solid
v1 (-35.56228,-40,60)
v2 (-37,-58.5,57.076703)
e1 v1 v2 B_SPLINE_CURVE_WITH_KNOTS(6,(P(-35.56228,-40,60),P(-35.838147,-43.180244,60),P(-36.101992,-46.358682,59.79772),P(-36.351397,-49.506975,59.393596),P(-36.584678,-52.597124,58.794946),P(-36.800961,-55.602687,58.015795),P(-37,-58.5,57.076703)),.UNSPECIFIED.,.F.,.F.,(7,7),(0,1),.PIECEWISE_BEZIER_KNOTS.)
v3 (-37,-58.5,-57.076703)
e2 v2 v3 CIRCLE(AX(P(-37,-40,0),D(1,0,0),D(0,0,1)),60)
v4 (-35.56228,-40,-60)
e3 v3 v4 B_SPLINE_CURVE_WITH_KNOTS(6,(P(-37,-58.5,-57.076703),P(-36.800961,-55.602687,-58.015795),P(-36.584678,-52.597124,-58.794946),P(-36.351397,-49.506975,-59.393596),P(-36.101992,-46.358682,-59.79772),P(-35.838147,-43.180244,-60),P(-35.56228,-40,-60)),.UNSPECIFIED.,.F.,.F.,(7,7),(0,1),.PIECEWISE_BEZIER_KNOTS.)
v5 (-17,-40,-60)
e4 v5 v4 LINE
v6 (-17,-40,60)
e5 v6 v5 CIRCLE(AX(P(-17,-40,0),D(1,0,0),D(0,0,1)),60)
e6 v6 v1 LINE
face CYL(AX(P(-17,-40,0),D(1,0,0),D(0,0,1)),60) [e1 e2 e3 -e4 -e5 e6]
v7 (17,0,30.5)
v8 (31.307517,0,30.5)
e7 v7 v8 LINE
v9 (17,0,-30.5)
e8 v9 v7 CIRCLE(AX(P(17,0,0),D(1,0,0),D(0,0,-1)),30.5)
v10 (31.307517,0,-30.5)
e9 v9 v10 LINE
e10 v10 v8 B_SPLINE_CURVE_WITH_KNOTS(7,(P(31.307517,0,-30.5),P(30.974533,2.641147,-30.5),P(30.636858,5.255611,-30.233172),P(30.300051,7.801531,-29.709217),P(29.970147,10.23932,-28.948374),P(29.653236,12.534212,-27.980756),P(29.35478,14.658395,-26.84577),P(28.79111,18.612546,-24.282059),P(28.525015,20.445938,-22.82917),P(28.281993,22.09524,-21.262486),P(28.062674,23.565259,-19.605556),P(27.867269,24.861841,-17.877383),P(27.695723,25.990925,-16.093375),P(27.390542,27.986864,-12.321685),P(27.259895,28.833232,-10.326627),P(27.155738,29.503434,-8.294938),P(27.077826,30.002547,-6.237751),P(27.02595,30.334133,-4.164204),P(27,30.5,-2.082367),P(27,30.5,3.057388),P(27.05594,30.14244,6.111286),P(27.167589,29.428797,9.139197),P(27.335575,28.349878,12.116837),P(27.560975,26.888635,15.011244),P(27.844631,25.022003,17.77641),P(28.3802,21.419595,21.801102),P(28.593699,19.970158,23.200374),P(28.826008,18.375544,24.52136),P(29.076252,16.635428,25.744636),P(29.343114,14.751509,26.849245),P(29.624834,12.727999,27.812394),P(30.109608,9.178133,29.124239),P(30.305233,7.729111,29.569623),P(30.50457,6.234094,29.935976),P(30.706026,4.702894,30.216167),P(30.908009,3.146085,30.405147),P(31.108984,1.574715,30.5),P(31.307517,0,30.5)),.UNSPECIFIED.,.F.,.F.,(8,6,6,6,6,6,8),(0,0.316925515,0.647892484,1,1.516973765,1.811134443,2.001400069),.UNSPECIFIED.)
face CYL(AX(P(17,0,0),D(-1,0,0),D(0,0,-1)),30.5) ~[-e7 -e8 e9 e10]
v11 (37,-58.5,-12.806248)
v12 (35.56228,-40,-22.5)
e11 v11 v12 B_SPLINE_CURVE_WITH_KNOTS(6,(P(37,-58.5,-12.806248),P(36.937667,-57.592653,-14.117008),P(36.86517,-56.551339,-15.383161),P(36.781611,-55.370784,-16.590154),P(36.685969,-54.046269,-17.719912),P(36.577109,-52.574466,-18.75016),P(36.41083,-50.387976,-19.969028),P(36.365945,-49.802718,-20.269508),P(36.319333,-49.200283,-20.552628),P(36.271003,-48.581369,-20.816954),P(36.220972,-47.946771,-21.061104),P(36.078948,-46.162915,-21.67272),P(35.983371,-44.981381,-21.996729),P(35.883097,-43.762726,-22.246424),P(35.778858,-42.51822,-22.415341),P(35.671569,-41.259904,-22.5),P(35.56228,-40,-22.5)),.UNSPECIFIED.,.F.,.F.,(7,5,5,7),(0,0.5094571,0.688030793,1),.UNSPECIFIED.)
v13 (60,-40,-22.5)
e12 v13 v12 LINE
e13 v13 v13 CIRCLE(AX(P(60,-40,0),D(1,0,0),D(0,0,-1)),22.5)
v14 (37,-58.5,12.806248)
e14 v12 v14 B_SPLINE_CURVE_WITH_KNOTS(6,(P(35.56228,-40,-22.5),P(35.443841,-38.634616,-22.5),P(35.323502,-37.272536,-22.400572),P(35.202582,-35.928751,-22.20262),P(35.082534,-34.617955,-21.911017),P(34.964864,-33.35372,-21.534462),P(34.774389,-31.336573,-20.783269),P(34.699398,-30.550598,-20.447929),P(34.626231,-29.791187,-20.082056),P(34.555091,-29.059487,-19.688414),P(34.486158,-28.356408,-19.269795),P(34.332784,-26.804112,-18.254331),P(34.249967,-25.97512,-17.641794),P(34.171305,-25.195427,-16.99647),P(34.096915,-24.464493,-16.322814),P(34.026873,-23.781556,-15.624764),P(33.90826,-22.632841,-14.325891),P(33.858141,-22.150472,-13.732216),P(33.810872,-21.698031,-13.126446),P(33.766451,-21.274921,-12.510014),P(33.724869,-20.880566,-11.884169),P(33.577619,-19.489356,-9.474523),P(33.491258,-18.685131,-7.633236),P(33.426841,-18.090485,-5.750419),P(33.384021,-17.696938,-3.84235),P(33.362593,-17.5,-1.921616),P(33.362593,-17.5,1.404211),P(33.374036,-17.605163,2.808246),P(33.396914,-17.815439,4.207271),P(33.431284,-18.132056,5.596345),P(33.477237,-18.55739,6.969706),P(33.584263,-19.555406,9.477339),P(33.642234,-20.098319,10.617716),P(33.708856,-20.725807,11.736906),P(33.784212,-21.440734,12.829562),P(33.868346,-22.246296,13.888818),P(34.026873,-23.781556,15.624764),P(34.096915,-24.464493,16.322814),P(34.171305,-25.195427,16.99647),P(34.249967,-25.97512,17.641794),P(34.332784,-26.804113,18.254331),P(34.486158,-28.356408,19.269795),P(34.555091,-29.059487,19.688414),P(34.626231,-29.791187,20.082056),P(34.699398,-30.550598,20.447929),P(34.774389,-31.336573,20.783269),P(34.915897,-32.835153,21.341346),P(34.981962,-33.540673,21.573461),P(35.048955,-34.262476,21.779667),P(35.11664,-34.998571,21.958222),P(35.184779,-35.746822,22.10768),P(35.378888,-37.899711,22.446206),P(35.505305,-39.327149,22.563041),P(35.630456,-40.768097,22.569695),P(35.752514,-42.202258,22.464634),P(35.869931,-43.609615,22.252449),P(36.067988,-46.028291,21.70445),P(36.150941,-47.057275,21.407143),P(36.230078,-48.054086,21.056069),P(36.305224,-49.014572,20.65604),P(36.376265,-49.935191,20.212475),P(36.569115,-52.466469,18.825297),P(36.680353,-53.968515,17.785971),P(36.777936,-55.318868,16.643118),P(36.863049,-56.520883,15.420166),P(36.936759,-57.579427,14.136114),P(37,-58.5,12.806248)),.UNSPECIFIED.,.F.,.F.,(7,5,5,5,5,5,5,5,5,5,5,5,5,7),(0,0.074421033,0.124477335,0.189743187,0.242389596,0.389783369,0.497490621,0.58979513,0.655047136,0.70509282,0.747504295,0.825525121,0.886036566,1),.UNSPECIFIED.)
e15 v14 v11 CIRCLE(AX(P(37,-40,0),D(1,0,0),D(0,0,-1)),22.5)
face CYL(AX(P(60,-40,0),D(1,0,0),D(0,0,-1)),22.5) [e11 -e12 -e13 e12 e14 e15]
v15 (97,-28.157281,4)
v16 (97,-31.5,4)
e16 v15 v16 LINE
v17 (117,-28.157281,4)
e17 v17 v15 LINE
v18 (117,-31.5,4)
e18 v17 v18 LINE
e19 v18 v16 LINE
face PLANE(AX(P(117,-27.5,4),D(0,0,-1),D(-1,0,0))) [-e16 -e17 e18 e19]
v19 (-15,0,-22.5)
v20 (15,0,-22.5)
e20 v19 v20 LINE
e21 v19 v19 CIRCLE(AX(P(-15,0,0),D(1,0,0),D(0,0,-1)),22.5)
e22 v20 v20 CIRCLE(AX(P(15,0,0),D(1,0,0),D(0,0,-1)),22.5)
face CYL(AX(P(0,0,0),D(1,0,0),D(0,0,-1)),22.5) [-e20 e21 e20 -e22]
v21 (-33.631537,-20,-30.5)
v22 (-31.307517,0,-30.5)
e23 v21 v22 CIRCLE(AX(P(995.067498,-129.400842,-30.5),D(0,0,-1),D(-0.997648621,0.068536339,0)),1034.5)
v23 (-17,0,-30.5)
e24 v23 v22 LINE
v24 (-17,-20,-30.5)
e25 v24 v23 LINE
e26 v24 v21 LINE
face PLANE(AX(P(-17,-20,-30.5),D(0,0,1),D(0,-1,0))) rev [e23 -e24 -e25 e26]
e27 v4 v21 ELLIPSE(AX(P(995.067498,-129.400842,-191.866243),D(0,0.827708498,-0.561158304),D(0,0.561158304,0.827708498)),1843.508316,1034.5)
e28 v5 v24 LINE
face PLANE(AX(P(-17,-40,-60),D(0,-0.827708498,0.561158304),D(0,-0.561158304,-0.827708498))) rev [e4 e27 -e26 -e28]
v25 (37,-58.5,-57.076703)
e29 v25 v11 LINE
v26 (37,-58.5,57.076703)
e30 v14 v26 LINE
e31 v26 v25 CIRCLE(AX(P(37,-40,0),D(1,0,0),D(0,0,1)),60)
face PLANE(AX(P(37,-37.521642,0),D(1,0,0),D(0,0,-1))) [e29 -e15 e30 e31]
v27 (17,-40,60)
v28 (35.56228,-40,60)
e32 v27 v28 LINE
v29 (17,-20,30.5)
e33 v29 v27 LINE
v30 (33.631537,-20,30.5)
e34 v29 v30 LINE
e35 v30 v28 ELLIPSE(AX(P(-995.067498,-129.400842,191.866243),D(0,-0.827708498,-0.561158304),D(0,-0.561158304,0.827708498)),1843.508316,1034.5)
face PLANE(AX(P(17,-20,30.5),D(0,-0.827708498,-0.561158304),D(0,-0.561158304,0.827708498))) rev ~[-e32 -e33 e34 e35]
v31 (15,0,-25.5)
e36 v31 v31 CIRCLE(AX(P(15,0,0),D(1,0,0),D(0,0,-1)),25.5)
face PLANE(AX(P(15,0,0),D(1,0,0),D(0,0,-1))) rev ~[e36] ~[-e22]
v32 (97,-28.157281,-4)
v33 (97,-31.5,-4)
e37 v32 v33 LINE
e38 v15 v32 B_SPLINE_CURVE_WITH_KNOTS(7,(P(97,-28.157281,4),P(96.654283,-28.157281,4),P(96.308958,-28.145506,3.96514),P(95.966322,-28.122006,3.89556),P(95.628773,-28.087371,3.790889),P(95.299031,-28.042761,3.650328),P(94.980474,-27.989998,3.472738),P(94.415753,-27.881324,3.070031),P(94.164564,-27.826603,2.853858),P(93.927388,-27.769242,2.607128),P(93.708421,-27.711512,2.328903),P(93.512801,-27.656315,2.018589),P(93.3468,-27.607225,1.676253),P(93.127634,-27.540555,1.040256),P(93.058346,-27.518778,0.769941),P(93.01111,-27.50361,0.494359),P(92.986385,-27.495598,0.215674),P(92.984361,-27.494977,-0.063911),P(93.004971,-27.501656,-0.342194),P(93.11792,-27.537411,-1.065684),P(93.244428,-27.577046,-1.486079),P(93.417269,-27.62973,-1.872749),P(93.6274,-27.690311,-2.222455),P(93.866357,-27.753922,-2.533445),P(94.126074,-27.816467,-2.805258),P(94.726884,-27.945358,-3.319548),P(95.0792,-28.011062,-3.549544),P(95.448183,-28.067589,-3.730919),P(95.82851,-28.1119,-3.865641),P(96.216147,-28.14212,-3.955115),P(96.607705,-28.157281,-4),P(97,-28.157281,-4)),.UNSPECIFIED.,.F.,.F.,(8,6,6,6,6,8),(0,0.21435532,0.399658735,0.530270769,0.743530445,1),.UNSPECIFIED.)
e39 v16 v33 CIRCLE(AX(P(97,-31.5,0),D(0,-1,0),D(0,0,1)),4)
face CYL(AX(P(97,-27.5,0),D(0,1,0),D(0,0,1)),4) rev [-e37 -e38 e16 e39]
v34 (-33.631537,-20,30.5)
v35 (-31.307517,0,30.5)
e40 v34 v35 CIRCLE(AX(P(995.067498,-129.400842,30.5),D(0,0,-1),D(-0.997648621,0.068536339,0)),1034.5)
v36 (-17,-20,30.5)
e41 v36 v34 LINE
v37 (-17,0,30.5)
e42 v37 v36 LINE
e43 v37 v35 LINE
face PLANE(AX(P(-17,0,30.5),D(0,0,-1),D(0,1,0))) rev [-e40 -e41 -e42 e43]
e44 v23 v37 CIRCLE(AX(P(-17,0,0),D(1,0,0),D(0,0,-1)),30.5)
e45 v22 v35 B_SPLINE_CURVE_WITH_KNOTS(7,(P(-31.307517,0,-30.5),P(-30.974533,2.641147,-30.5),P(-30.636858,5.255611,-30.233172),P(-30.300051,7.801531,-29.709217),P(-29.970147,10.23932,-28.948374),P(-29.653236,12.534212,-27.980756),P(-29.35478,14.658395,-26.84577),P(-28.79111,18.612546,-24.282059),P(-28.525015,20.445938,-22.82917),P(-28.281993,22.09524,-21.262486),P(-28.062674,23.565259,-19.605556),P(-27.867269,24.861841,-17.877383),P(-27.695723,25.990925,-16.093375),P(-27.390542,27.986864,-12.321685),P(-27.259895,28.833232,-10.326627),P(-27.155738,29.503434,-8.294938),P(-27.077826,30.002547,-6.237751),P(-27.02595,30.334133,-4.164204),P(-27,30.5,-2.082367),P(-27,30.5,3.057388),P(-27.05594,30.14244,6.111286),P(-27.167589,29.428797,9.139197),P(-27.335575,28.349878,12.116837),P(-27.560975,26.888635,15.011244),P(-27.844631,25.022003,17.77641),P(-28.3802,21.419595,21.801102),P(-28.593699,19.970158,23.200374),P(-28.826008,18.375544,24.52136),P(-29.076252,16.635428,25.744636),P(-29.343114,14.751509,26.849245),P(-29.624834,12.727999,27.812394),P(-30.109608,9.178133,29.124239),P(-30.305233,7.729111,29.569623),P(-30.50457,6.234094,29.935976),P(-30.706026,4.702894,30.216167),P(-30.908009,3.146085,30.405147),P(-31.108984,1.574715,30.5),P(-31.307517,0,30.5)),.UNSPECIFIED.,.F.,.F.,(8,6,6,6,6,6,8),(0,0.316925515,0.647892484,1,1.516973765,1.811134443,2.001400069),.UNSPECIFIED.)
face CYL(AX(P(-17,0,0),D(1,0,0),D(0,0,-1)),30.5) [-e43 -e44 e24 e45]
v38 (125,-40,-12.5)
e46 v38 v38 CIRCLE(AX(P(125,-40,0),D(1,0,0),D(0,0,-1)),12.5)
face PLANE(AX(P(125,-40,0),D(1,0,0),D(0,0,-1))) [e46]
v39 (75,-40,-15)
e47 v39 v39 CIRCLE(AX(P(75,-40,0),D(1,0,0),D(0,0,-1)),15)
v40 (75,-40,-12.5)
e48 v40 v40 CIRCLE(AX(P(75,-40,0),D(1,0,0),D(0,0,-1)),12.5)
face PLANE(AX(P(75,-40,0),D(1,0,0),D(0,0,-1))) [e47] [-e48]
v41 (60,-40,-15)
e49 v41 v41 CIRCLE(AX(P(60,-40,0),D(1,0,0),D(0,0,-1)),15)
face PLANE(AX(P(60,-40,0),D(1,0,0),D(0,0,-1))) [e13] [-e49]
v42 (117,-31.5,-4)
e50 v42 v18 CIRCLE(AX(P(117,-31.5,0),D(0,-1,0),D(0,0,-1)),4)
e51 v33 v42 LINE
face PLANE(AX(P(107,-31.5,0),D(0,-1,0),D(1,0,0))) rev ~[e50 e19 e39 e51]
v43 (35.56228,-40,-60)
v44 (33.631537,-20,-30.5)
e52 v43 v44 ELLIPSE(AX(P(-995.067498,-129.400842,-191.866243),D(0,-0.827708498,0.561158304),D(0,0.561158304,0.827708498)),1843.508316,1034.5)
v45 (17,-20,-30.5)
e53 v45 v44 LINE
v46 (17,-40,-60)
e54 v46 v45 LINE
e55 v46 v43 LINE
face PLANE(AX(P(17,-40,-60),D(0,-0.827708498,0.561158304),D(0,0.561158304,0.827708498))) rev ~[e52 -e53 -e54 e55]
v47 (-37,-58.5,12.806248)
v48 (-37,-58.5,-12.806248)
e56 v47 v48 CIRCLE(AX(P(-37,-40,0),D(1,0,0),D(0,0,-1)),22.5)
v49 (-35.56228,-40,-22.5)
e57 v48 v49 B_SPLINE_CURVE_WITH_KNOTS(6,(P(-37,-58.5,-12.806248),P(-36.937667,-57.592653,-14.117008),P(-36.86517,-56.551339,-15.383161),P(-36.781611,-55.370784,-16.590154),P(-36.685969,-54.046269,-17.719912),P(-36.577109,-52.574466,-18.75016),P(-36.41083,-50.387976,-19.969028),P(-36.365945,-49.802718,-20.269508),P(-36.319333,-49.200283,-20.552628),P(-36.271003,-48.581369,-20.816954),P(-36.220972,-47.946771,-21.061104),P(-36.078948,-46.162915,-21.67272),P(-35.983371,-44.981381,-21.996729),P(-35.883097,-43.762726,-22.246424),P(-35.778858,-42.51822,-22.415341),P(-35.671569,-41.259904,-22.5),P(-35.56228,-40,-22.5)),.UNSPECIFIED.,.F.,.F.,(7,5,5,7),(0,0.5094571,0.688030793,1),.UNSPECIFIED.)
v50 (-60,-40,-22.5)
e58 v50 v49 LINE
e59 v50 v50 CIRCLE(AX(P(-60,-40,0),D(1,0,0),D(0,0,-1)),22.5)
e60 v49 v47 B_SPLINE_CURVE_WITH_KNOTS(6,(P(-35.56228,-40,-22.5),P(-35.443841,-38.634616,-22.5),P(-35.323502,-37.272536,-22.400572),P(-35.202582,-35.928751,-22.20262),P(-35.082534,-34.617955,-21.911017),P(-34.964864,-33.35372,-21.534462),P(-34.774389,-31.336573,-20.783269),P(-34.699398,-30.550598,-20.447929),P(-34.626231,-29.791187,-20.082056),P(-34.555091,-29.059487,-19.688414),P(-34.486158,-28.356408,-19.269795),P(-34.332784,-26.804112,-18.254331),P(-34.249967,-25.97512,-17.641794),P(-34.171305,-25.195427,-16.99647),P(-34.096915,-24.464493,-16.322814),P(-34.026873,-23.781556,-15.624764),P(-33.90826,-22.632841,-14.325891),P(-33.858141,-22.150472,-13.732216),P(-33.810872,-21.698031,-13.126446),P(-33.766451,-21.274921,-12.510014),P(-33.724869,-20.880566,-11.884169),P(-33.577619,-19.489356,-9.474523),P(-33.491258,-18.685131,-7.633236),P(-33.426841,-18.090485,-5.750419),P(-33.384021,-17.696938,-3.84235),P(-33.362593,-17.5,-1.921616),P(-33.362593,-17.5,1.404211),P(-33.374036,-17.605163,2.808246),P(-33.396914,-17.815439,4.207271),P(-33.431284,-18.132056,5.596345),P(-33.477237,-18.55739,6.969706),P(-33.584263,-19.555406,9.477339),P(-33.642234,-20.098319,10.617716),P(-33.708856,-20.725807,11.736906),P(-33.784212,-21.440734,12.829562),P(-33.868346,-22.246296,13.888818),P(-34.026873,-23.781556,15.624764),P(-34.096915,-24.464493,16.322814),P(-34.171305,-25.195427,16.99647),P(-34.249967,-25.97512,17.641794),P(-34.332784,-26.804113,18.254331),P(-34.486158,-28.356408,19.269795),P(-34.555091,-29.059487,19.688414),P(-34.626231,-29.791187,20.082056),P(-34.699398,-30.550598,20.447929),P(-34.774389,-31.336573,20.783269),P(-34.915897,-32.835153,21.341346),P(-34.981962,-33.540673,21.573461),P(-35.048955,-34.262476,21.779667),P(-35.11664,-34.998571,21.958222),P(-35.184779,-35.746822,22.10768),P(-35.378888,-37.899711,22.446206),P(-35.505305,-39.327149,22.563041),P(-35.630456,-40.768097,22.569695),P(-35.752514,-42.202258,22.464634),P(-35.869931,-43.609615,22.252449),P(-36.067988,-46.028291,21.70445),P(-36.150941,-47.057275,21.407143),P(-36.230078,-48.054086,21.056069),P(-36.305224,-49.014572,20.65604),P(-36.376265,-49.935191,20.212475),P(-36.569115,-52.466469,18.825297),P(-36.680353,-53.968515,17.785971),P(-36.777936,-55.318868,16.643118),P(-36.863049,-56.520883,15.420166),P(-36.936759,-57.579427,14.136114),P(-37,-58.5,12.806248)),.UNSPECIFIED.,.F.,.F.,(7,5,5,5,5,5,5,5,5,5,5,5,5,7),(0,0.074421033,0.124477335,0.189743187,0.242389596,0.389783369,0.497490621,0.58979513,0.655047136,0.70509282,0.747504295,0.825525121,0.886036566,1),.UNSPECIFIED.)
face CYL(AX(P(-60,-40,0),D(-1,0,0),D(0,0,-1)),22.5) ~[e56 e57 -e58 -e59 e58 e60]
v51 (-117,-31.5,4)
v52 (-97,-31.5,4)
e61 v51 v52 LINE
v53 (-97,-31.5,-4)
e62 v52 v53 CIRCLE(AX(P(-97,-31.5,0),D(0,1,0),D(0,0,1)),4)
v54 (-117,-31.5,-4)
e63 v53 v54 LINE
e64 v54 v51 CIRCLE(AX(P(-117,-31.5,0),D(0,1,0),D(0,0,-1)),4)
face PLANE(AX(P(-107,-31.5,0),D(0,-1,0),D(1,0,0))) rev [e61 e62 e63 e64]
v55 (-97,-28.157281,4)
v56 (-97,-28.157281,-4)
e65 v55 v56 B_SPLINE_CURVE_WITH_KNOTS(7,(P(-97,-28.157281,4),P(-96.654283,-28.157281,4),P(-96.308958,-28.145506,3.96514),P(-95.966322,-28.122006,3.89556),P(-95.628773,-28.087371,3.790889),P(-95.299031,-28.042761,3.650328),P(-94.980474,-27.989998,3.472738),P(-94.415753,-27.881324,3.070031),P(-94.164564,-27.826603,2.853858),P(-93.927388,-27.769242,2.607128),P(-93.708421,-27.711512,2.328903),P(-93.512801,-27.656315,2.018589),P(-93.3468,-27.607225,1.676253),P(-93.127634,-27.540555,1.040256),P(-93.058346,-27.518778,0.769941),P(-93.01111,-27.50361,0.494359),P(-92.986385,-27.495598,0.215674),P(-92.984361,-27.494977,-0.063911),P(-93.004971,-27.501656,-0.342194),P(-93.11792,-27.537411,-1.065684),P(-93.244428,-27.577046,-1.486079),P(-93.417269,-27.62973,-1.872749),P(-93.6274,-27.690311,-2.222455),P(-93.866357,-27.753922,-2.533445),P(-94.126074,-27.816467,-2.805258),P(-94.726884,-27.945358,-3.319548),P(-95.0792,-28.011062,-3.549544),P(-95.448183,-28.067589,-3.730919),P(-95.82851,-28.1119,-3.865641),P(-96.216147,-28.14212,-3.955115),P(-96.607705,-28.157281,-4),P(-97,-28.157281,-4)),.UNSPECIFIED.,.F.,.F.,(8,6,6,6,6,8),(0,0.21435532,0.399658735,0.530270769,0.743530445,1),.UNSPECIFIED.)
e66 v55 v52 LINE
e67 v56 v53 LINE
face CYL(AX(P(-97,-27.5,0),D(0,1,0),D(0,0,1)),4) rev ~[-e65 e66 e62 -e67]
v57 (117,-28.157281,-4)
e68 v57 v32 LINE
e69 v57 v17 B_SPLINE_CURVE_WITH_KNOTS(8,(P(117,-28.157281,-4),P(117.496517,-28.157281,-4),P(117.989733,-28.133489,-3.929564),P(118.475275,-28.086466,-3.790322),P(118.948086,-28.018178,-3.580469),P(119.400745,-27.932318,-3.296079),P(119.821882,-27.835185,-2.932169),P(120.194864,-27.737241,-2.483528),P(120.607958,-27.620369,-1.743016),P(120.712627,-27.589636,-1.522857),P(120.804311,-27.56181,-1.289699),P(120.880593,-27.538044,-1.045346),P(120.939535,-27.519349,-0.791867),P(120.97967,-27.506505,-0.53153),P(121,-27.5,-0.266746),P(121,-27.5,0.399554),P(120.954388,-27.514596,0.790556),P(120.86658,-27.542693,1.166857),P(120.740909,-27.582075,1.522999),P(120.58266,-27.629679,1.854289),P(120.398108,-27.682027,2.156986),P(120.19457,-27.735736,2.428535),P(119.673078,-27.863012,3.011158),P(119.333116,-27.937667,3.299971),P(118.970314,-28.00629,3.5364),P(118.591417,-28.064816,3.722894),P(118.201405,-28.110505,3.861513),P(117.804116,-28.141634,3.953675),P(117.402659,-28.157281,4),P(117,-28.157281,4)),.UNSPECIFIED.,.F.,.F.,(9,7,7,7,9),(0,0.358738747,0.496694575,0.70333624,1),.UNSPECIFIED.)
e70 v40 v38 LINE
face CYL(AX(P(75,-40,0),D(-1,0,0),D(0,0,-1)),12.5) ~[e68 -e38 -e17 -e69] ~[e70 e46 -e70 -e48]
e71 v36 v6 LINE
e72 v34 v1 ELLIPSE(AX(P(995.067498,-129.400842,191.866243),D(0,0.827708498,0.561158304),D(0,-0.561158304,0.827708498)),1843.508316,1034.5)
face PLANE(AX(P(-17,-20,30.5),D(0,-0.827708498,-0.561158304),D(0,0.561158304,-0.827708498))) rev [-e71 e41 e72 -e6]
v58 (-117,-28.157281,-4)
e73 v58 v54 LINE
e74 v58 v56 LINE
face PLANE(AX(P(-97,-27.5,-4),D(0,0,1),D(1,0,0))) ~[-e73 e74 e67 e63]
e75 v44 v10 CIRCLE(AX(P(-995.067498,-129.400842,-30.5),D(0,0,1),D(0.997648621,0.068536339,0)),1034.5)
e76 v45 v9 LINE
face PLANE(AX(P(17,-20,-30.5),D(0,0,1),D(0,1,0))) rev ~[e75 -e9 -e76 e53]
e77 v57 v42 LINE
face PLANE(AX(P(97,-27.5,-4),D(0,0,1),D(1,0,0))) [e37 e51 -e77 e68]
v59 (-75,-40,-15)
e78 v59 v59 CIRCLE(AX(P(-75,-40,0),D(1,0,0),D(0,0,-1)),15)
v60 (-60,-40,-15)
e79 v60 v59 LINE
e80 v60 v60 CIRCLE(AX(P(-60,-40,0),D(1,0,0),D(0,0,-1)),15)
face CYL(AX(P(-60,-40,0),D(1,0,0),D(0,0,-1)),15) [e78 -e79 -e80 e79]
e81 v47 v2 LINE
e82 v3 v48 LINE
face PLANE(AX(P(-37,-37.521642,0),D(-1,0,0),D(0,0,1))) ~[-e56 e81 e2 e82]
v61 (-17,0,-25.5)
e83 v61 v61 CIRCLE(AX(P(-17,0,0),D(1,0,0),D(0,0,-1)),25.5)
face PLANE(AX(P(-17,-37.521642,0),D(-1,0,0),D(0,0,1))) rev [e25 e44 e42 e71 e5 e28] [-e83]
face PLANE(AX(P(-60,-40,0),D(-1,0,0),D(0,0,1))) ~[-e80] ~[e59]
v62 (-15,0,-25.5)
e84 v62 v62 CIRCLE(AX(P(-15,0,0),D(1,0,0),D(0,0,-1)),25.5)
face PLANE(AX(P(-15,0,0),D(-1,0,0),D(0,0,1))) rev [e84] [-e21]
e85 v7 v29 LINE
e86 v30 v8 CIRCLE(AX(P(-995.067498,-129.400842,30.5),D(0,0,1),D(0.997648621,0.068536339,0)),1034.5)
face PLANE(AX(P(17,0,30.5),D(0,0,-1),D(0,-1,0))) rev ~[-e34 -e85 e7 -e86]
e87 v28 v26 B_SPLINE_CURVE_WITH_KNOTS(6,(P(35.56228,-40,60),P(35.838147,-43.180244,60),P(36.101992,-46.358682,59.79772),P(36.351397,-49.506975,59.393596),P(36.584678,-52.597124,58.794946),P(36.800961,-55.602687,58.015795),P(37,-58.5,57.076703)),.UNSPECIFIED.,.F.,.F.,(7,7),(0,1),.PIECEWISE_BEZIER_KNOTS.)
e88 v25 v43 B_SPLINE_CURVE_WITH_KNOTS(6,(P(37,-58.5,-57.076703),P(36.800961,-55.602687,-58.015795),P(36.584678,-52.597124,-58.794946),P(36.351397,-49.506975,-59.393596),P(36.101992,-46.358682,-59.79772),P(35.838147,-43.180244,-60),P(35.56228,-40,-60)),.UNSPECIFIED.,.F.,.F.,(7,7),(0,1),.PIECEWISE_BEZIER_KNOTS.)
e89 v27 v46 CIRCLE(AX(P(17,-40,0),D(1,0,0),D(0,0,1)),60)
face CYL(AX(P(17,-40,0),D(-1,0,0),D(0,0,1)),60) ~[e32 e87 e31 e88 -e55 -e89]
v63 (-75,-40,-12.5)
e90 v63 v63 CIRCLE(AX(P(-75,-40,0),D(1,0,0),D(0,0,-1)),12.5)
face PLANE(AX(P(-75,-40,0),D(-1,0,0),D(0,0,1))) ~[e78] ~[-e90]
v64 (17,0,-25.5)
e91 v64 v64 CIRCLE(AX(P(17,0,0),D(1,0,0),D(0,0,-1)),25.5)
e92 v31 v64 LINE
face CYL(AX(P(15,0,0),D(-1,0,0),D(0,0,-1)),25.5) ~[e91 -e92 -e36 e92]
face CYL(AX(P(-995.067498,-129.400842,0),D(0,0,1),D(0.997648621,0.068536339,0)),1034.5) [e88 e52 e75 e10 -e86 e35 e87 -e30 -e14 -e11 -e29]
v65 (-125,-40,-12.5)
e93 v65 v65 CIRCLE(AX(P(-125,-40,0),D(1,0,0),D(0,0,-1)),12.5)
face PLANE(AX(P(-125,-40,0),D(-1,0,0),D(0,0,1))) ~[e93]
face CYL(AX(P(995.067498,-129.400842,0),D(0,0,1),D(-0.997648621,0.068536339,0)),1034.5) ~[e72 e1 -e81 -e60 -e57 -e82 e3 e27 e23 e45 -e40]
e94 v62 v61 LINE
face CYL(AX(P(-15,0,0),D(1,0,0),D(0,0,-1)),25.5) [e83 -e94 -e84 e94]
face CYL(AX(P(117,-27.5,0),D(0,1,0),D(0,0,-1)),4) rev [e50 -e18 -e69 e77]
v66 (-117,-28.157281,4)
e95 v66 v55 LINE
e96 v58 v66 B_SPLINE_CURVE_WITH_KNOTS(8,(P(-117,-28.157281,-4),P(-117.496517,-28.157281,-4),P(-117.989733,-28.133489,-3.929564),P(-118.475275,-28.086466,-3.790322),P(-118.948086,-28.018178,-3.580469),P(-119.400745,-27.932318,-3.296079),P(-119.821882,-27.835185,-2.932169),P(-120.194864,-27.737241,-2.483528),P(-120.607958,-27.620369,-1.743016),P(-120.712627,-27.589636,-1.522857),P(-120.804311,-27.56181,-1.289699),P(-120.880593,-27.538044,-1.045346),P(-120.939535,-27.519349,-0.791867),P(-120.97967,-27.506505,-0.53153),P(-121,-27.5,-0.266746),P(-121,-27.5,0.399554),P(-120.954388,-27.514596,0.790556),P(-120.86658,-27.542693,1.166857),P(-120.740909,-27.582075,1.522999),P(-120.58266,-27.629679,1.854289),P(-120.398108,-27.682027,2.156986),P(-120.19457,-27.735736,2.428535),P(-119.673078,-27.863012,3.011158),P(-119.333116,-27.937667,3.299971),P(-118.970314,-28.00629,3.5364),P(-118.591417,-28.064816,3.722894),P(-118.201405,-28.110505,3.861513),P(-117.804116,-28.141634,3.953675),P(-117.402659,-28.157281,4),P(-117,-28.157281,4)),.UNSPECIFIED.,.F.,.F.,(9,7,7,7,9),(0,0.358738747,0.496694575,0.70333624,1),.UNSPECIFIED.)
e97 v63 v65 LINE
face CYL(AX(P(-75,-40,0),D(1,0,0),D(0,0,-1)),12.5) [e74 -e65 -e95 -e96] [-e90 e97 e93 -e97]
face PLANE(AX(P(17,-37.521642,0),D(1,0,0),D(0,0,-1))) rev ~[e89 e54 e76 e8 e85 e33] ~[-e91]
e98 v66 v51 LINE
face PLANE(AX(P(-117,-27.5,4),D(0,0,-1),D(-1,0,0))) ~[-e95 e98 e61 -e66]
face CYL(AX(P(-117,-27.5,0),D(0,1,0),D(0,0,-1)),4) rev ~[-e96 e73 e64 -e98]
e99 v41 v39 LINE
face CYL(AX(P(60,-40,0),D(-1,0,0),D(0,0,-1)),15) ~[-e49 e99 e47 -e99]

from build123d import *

# Parameters (mm, degrees)
SKETCH1_R           = 22.5
BOSS_EXTRUDE1_DEPTH = 15
SKETCH2_R           = 25.5
BOSS_EXTRUDE2_DEPTH = 2
BOSS_EXTRUDE3_DEPTH = 20
CUT_EXTRUDE1_DEPTH  = 99
BOSS_EXTRUDE4_REACH = 77
SKETCH5_R           = 22.5
SKETCH6_R           = 15
BOSS_EXTRUDE5_DEPTH = 15
SKETCH7_R           = 12.5
BOSS_EXTRUDE6_DEPTH = 50
CUT_EXTRUDE2_DEPTH  = 4


with BuildPart() as part:
    # Sketch1 → Boss-Extrude1 (new body, symmetric)
    with BuildSketch(Plane(origin=(0, 0, 0), x_dir=(0, 0, -1), z_dir=(1, 0, 0))):
        Circle(SKETCH1_R)
    extrude(amount=BOSS_EXTRUDE1_DEPTH, both=True)

    # Sketch2 → Boss-Extrude2 (add)
    with BuildSketch(Plane(origin=(15, 0, 0), x_dir=(0, 0, -1), z_dir=(1, 0, 0))):
        Circle(SKETCH2_R)
    extrude(amount=BOSS_EXTRUDE2_DEPTH)

    # Sketch3 → Boss-Extrude3 (add)
    with BuildSketch(Plane(origin=(17, 0, 0), x_dir=(0, 0, -1), z_dir=(1, 0, 0))):
        with BuildLine():
            Line((-30.5, 0), (-30.5, -20))
            Line((-30.5, -20), (-60, -40))
            ThreePointArc((-60, -40), (0, -100), (60, -40))
            Line((60, -40), (30.5, -20))
            Line((30.5, -20), (30.5, 0))
            ThreePointArc((30.5, 0), (0, 30.5), (-30.5, 0))
        make_face()
    extrude(amount=BOSS_EXTRUDE3_DEPTH)

    # Sketch4 → Cut-Extrude1 (cut, symmetric)
    with BuildSketch(Plane.XY):
        with BuildLine():
            Line((27, 30.5), (37, 30.5))
            Line((37, 30.5), (37, -58.5))
            ThreePointArc((37, -58.5), (32.963579083, -13.891732687), (27, 30.5))
        make_face()
    extrude(amount=CUT_EXTRUDE1_DEPTH, both=True, mode=Mode.SUBTRACT)

    # Sketch5 → Boss-Extrude4 (add, up to next)
    with BuildSketch(Plane(origin=(60, 0, 0), x_dir=(0, 0, -1), z_dir=(1, 0, 0)), mode=Mode.PRIVATE) as boss_extrude4_sk1:
        with Locations((0, -40)):
            Circle(SKETCH5_R)
    boss_extrude4_tool1 = extrude(boss_extrude4_sk1.sketch, amount=-BOSS_EXTRUDE4_REACH, mode=Mode.PRIVATE) - part.part
    add(boss_extrude4_tool1.solids().sort_by_distance((60, -40, 0))[0])

    # Sketch6 → Boss-Extrude5 (add)
    with BuildSketch(Plane(origin=(60, 0, 0), x_dir=(0, 0, -1), z_dir=(1, 0, 0))):
        with Locations((0, -40)):
            Circle(SKETCH6_R)
    extrude(amount=BOSS_EXTRUDE5_DEPTH)

    # Sketch7 → Boss-Extrude6 (add)
    with BuildSketch(Plane(origin=(75, 0, 0), x_dir=(0, 0, -1), z_dir=(1, 0, 0))):
        with Locations((0, -40)):
            Circle(SKETCH7_R)
    extrude(amount=BOSS_EXTRUDE6_DEPTH)

    # Sketch9 → Cut-Extrude2 (cut)
    with BuildSketch(Plane(origin=(0, -27.5, 0), x_dir=(-1, 0, 0), z_dir=(0, 1, 0))):
        with BuildLine():
            Line((-97, -4), (-117, -4))
            ThreePointArc((-117, -4), (-121, 0), (-117, 4))
            Line((-117, 4), (-97, 4))
            ThreePointArc((-97, 4), (-93, 0), (-97, -4))
        make_face()
    extrude(amount=-CUT_EXTRUDE2_DEPTH, mode=Mode.SUBTRACT)

    # Mirror2: part across plane


with BuildPart() as part_1:
    add(part.part)
    add(part.part.mirror(Plane(origin=(0, 0, 0), x_dir=(0, 0, 1), z_dir=(1, 0, 0))))


solid = part_1.part
